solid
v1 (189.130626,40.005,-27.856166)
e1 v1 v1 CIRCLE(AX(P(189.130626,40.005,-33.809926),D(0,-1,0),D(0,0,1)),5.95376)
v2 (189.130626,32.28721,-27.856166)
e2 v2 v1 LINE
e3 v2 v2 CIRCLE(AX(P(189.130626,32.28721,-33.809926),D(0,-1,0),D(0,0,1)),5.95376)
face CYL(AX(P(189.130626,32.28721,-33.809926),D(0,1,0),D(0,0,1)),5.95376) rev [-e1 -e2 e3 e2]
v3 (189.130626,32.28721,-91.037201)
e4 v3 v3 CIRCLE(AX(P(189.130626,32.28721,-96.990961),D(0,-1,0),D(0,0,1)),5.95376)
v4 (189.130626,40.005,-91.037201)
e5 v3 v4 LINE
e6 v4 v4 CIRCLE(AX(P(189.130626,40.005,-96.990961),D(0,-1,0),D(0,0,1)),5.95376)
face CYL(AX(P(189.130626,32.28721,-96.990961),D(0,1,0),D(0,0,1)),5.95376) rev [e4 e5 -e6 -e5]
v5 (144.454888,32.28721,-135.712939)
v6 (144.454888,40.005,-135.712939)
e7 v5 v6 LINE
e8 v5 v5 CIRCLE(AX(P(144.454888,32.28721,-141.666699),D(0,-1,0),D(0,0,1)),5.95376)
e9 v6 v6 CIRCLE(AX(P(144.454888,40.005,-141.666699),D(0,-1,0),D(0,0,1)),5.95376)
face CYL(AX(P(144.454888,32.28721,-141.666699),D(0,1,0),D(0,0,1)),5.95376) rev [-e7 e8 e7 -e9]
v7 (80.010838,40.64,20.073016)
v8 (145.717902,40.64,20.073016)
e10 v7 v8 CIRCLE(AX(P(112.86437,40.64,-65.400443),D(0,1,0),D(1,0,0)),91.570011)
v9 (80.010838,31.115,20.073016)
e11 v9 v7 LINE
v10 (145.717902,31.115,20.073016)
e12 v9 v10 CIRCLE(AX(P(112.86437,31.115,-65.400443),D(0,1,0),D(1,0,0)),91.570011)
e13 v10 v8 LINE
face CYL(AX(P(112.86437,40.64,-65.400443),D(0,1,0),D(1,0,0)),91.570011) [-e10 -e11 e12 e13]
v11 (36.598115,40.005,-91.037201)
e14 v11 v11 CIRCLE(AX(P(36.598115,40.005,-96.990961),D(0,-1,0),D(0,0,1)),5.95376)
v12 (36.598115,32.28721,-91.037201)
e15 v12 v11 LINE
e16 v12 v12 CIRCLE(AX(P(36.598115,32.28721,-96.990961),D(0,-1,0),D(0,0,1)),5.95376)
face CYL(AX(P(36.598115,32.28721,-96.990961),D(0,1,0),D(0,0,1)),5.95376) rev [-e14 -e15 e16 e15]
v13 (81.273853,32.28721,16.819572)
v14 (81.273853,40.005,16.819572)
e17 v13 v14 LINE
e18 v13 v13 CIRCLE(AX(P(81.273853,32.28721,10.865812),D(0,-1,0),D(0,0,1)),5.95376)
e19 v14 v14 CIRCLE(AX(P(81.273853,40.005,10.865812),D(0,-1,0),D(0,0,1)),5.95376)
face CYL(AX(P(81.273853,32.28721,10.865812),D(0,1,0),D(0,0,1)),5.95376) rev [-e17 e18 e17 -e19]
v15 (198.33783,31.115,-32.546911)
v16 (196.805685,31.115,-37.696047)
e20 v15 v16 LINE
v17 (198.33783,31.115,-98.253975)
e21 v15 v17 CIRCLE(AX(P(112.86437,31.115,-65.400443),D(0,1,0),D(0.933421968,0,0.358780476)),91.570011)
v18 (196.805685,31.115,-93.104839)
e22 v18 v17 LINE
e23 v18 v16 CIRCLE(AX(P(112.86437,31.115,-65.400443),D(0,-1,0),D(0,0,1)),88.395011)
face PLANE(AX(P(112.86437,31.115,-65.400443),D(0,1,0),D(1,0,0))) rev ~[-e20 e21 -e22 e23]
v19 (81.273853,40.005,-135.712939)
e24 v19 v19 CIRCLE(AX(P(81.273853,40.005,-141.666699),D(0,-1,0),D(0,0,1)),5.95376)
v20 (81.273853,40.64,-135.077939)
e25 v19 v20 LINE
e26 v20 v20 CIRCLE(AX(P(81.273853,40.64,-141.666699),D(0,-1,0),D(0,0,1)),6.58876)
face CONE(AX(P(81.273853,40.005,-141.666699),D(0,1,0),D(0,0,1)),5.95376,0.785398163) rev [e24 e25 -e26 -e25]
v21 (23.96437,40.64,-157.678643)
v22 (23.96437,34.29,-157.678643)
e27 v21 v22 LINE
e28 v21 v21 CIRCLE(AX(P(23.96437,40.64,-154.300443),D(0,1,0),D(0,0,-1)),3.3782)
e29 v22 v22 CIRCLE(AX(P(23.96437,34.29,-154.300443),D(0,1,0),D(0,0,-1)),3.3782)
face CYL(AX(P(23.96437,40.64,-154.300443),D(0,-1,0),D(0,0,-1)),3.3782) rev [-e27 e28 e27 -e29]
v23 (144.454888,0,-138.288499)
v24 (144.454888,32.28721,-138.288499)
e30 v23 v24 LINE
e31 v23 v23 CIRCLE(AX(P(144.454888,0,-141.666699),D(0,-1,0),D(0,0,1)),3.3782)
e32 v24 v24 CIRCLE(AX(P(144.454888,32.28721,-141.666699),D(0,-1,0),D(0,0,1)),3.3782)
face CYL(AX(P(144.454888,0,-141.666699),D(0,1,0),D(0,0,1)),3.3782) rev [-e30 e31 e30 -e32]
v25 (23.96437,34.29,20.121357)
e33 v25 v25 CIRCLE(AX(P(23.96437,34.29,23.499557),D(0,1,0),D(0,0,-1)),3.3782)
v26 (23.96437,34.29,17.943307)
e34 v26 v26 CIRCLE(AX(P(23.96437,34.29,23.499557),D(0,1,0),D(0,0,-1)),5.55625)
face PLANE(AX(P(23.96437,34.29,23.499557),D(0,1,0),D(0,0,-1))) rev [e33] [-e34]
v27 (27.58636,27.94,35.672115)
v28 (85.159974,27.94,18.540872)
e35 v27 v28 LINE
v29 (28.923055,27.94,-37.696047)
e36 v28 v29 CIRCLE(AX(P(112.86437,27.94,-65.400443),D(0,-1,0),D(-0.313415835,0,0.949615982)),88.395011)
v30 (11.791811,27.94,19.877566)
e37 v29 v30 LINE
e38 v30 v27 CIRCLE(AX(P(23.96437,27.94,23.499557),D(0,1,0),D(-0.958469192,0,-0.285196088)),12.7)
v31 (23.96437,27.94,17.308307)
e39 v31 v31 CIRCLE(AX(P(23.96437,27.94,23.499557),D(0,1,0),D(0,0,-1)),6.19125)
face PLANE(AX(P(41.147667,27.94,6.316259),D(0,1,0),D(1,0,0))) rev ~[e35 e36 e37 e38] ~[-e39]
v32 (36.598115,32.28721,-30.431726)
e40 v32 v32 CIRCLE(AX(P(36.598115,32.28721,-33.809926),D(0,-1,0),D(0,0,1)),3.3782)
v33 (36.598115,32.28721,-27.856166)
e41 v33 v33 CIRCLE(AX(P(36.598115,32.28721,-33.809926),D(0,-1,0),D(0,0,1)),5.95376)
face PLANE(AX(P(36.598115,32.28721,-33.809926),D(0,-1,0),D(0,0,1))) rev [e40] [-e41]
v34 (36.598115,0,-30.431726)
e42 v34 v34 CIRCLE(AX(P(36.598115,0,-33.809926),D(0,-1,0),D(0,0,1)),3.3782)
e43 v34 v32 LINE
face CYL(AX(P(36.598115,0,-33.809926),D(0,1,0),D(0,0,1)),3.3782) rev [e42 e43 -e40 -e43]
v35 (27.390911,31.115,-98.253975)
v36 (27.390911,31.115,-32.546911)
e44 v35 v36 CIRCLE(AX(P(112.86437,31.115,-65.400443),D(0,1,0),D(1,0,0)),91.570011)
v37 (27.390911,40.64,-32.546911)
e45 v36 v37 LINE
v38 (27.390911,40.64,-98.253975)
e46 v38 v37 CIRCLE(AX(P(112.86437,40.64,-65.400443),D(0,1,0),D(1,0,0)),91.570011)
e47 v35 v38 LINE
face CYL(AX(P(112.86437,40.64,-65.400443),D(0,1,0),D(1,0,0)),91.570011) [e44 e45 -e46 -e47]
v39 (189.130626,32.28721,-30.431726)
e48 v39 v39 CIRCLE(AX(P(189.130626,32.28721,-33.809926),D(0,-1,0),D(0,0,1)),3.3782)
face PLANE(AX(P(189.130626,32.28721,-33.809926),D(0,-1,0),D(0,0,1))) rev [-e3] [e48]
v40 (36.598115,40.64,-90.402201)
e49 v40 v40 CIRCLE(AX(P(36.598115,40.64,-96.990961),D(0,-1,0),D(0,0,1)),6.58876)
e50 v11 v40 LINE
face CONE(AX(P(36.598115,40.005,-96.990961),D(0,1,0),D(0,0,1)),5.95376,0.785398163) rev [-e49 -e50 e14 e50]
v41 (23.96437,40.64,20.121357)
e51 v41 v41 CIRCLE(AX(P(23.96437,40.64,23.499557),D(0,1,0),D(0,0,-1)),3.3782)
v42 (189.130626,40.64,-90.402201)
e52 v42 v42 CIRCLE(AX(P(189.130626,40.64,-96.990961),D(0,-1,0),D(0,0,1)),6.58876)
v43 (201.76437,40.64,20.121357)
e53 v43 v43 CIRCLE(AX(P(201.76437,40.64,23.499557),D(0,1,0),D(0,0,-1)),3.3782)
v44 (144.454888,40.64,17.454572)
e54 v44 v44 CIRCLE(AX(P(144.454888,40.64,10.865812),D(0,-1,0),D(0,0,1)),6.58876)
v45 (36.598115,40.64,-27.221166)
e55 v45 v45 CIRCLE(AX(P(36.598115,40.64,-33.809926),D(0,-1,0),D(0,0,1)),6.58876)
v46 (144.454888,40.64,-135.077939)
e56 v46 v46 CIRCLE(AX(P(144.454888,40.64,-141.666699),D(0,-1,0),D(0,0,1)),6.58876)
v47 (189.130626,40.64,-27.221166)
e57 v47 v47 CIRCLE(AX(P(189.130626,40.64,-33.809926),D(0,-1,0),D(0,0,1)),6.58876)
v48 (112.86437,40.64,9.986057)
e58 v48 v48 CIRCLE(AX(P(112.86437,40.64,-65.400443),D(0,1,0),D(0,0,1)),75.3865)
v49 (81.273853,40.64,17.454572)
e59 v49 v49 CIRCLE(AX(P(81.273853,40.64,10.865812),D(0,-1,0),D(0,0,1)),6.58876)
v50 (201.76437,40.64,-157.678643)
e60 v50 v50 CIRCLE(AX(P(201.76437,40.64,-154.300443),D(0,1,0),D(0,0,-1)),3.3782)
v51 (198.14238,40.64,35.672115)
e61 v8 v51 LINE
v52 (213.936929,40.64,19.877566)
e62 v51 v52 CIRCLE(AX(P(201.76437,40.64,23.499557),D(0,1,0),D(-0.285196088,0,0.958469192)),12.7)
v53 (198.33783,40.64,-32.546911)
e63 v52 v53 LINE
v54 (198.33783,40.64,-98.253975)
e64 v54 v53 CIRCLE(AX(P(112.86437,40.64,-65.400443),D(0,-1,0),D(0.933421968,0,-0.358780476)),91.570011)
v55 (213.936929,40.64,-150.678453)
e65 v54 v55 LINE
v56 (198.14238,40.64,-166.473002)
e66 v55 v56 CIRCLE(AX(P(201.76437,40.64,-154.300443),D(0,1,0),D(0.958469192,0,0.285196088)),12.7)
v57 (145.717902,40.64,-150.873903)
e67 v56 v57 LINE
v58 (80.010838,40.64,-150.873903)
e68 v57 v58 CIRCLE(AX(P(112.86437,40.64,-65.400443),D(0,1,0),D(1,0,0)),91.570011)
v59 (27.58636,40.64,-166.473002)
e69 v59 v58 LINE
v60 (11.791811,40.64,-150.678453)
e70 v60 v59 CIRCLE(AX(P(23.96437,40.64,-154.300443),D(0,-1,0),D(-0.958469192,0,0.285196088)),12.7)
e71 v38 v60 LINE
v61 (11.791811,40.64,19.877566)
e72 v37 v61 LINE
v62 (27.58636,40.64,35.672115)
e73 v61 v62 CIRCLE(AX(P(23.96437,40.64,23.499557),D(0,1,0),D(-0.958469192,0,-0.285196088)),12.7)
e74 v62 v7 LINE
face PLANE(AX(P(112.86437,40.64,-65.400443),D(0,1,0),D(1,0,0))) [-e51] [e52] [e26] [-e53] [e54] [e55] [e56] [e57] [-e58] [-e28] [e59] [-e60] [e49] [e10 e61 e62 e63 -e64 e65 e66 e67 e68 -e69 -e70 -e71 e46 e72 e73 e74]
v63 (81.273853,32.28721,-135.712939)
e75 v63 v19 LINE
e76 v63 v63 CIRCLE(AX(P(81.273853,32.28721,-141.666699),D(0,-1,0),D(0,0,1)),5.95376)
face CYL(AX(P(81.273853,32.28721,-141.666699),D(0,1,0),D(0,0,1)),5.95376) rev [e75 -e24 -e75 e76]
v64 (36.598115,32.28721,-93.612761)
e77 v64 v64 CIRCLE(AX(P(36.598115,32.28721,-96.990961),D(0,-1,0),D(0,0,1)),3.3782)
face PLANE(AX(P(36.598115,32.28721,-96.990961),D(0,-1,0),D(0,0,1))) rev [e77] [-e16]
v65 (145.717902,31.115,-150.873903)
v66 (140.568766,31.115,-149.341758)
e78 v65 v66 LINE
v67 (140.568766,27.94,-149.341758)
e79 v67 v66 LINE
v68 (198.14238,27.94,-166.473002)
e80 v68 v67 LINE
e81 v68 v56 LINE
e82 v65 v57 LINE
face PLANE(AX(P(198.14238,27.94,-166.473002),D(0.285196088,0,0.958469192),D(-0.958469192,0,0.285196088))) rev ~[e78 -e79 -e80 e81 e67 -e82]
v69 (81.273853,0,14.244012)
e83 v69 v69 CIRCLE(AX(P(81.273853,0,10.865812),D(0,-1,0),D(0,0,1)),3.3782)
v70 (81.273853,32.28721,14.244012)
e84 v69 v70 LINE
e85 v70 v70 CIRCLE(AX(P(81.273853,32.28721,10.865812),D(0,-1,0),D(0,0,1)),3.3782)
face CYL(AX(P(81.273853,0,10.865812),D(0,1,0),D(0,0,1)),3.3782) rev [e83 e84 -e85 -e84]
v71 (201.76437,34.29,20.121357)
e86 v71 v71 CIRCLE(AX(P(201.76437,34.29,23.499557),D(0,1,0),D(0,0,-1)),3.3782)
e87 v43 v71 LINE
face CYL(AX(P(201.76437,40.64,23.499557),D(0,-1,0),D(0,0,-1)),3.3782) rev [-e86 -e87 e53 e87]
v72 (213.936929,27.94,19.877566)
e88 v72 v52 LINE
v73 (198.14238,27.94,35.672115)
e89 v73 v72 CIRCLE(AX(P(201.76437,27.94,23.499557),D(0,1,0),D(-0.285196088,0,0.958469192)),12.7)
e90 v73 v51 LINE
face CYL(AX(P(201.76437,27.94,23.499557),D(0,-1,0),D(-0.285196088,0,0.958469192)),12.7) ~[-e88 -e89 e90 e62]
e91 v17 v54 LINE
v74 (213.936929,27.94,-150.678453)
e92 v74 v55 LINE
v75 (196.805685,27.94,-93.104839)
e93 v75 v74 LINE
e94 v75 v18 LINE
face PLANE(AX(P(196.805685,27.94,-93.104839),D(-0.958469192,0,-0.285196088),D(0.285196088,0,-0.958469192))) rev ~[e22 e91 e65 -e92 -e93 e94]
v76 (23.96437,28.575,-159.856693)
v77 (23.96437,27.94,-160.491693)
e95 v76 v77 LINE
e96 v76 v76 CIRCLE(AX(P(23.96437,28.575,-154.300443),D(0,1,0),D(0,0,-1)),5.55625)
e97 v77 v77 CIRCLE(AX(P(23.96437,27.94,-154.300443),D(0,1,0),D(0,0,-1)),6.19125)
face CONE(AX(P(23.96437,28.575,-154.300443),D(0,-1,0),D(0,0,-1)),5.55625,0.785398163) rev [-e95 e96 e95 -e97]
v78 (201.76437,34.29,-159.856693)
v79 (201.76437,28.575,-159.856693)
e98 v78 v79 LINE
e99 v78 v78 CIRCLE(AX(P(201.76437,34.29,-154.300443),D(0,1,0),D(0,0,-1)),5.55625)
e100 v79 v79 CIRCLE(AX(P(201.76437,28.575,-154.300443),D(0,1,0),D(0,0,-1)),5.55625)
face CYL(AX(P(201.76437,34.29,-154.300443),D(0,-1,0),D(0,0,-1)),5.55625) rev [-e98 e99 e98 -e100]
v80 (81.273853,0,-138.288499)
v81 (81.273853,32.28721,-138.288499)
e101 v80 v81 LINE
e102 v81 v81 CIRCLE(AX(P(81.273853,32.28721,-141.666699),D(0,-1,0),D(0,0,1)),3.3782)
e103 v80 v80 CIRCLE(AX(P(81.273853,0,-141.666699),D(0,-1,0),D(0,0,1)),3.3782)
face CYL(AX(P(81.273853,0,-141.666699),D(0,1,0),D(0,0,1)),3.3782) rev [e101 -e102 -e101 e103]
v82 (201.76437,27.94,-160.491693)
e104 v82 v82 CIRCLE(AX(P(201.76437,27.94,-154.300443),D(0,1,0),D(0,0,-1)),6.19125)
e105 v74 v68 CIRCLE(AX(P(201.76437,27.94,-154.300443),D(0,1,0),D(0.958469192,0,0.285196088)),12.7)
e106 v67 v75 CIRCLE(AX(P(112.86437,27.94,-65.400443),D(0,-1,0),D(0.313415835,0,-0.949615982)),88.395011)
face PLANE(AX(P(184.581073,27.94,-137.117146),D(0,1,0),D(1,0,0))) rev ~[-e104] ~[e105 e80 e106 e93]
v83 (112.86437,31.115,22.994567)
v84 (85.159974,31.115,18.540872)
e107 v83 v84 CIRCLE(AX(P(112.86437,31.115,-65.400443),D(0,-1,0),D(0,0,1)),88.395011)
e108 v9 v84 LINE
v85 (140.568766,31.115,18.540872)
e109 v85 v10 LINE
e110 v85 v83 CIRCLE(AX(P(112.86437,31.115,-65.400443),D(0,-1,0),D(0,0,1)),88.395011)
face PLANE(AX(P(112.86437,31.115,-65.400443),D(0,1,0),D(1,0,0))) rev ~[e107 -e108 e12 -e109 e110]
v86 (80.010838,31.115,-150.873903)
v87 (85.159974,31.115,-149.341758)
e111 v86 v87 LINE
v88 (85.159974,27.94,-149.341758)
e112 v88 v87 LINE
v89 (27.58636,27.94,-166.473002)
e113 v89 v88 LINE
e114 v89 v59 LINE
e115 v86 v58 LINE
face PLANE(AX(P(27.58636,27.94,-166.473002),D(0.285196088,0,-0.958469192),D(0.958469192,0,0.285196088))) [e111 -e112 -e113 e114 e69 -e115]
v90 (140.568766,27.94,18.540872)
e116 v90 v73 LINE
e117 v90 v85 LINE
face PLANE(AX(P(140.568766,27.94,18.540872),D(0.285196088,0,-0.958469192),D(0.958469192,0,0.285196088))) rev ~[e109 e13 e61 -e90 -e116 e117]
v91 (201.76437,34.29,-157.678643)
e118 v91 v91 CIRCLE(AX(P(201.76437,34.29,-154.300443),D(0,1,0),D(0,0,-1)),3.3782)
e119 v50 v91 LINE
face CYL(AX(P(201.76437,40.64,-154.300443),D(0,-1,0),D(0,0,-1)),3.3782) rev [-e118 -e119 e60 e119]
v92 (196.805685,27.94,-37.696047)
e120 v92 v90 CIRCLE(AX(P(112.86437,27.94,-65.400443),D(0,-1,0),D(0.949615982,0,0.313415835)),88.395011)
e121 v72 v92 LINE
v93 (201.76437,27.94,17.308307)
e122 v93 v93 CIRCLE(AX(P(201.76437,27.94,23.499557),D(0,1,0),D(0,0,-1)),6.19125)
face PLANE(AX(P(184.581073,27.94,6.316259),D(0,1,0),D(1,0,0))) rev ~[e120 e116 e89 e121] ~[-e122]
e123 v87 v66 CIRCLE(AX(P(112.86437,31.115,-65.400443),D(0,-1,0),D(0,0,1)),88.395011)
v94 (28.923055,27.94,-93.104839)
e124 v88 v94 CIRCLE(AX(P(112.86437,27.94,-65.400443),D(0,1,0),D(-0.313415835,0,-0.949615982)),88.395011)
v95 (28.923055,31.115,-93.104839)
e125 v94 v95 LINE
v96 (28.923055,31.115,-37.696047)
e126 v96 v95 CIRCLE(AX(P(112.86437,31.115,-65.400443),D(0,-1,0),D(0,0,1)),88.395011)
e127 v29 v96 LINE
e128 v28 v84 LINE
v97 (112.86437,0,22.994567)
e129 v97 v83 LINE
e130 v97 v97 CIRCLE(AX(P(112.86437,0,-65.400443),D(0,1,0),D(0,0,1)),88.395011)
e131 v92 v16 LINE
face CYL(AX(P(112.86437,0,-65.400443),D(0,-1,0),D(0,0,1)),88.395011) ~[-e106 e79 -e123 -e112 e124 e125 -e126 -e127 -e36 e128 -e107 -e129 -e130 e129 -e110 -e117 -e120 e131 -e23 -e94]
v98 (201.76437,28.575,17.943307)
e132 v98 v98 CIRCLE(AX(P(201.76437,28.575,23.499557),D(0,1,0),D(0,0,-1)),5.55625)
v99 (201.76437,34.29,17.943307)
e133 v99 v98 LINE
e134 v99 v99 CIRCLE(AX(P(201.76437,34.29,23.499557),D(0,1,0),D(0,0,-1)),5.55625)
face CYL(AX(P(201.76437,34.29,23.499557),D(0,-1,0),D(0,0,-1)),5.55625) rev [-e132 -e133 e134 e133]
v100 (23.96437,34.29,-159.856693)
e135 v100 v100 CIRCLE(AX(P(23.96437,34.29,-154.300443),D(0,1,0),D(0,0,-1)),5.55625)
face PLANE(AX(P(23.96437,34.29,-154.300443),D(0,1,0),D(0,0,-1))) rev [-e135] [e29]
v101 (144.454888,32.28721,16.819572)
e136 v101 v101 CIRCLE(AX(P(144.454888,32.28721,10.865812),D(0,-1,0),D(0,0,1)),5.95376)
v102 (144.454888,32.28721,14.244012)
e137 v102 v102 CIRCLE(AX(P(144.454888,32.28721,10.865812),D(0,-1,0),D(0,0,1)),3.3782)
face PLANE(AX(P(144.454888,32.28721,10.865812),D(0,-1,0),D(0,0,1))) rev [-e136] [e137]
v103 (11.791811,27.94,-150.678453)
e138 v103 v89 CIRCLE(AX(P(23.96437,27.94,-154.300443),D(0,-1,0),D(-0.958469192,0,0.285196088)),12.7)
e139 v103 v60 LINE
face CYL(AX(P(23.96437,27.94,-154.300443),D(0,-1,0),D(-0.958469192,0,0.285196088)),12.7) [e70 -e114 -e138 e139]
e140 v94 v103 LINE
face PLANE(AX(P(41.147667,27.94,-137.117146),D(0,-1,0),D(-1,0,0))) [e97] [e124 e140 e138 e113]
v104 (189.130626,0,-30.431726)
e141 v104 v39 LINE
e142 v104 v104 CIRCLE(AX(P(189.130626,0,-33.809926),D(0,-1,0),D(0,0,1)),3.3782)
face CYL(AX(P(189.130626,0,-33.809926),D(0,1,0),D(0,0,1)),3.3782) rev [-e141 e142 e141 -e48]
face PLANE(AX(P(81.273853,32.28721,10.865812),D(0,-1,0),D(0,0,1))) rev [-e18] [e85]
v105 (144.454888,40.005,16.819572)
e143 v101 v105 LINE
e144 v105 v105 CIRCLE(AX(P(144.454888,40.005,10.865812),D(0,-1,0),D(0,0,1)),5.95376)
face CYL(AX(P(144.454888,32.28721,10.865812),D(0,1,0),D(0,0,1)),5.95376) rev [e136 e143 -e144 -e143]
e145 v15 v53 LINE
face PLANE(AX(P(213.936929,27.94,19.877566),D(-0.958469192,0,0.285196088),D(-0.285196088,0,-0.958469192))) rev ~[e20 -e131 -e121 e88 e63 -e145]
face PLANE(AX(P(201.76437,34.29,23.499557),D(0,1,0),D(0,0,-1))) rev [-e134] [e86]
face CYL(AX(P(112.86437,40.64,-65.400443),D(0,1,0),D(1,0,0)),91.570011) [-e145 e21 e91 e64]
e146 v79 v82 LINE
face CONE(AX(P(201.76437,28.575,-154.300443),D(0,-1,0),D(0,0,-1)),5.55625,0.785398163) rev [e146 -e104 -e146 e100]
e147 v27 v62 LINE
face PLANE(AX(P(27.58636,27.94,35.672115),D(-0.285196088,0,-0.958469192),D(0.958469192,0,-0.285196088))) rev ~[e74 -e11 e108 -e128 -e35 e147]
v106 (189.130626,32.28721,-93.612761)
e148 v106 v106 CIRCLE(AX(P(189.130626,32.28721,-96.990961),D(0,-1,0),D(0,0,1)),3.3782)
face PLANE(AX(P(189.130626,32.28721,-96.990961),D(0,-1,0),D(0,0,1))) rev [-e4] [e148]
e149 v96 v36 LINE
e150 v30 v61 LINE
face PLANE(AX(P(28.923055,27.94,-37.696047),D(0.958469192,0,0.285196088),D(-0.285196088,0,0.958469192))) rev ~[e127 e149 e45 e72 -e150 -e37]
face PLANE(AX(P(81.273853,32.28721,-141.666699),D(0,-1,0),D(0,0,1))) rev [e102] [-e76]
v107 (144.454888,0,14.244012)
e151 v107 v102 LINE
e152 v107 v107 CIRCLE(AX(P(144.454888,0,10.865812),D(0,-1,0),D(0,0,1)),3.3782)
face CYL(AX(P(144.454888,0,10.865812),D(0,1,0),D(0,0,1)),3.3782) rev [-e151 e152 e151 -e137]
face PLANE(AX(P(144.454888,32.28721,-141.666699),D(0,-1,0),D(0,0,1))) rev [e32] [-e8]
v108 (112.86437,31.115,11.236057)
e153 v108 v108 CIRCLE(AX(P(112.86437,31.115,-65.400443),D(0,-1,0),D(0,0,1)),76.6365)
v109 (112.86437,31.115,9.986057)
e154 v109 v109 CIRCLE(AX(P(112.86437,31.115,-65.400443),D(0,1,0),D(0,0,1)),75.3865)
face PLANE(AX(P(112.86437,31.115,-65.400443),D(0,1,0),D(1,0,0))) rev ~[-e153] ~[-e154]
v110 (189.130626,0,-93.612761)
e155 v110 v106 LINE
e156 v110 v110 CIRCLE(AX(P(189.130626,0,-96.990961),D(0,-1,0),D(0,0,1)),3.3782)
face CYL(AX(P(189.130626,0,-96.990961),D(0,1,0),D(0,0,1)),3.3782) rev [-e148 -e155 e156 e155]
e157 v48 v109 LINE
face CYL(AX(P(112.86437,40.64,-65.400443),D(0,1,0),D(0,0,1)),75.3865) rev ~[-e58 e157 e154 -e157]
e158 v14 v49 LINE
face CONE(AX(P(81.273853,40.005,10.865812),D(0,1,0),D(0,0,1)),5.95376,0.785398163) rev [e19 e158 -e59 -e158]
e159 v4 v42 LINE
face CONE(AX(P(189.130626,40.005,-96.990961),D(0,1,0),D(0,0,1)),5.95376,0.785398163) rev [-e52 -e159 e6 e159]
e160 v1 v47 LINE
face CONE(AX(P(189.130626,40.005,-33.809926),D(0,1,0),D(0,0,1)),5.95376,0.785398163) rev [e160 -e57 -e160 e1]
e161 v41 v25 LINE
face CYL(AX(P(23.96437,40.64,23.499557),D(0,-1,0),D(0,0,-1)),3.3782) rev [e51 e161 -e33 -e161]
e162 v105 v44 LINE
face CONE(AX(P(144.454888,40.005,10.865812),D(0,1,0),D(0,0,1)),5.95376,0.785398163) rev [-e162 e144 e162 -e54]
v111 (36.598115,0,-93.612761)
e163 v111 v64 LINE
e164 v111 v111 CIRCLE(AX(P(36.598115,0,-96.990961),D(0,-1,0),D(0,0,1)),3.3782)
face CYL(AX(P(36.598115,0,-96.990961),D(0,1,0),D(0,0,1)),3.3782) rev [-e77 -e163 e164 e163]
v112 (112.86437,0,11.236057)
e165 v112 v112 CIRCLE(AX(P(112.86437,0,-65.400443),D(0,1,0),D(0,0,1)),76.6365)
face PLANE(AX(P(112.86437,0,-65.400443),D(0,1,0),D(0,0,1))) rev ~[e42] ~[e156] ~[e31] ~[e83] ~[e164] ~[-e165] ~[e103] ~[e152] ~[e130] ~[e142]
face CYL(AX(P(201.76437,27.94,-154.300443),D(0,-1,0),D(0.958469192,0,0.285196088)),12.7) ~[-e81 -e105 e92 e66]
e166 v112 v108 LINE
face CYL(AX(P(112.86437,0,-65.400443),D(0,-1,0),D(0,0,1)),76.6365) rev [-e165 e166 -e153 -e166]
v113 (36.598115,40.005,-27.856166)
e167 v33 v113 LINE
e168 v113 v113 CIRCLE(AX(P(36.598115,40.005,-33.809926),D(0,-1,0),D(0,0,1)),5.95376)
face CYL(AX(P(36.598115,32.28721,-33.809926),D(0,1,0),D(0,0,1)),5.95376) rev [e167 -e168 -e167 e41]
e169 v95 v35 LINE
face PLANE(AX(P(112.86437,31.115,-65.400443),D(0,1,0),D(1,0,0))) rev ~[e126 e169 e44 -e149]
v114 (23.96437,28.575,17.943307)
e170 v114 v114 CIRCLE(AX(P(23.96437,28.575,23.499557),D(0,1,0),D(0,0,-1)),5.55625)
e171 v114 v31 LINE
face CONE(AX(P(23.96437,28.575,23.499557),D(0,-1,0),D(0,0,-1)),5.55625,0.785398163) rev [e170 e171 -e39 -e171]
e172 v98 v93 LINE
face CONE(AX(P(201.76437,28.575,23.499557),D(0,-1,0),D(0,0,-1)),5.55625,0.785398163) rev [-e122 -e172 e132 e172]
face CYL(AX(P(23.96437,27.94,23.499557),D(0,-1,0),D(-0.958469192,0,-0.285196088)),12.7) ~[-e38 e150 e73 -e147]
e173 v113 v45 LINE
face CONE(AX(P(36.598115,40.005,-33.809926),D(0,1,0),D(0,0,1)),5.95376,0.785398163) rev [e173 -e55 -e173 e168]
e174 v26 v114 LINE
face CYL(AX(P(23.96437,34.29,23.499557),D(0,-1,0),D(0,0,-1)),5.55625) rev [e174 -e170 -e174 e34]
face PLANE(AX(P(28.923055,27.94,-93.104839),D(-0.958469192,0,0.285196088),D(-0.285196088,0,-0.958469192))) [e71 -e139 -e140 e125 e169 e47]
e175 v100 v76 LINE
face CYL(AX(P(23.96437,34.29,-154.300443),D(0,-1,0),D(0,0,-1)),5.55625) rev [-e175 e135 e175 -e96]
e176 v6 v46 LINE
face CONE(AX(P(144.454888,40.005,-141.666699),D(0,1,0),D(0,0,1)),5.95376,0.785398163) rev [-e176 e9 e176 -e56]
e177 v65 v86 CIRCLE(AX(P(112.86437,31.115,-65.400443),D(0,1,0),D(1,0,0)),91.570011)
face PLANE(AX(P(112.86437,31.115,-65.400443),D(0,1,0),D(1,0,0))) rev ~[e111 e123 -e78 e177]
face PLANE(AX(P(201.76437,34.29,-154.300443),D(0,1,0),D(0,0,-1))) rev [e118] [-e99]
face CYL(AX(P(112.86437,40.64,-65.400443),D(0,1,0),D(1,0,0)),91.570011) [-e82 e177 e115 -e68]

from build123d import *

# Parameters (mm, degrees)
SKETCH2_R                                     = 88.395010725
SKETCH2_R_2                                   = 76.6365
BOSS_EXTRUDE1_DEPTH                           = 40.64
BOSS_EXTRUDE2_START                           = -12.7
BOSS_EXTRUDE2_DEPTH                           = 12.7
CBORE_FOR_1_4_SOCKET_HEAD_CAP_SCREW1_AT_COUNT = 2
CBORE_FOR_1_4_SOCKET_HEAD_CAP_SCREW1_AT_PITCH = 177.8
CBORE_FOR_1_4_SOCKET_HEAD_CAP_SCREW1_2_COUNT  = 2
CBORE_FOR_1_4_SOCKET_HEAD_CAP_SCREW1_2_PITCH  = 251.44717139
CBORE_FOR_1_4_SOCKET_HEAD_CAP_SCREW1_3_COUNT  = 2
CBORE_FOR_1_4_SOCKET_HEAD_CAP_SCREW1_3_PITCH  = 177.8
SKETCH10_R                                    = 91.570010725
SKETCH10_R_2                                  = 75.3865
BOSS_EXTRUDE3_DEPTH                           = 9.525
CBORE_FOR_1_4_BUTTON_HEAD_CAP_SCREW1_AT_COUNT = 2
CBORE_FOR_1_4_BUTTON_HEAD_CAP_SCREW1_AT_PITCH = 63.181034683
CBORE_FOR_1_4_BUTTON_HEAD_CAP_SCREW1_2_COUNT  = 2
CBORE_FOR_1_4_BUTTON_HEAD_CAP_SCREW1_2_PITCH  = 116.743329574
CBORE_FOR_1_4_BUTTON_HEAD_CAP_SCREW1_3_COUNT  = 2
CBORE_FOR_1_4_BUTTON_HEAD_CAP_SCREW1_3_PITCH  = 152.532510818
CBORE_FOR_1_4_BUTTON_HEAD_CAP_SCREW1_4_COUNT  = 2
CBORE_FOR_1_4_BUTTON_HEAD_CAP_SCREW1_4_PITCH  = 165.1
CBORE_FOR_1_4_BUTTON_HEAD_CAP_SCREW1_5_COUNT  = 2
CBORE_FOR_1_4_BUTTON_HEAD_CAP_SCREW1_5_PITCH  = 152.532510818
CBORE_FOR_1_4_BUTTON_HEAD_CAP_SCREW1_6_COUNT  = 2
CBORE_FOR_1_4_BUTTON_HEAD_CAP_SCREW1_6_PITCH  = 116.743329574
CBORE_FOR_1_4_BUTTON_HEAD_CAP_SCREW1_7_COUNT  = 2
CBORE_FOR_1_4_BUTTON_HEAD_CAP_SCREW1_7_PITCH  = 63.181034683


with BuildPart() as part:
    # Sketch2 → Boss-Extrude1 (new body)
    with BuildSketch(Plane(origin=(0, 0, 0), x_dir=(1, 0, 0), z_dir=(0, 1, 0))):
        with Locations(Location((112.864370177, 65.400443246, 0), (0, 0, 270))):
            Circle(SKETCH2_R)
        with Locations(Location((112.864370177, 65.400443246, 0), (0, 0, 270))):
            Circle(SKETCH2_R_2, mode=Mode.SUBTRACT)
    extrude(amount=BOSS_EXTRUDE1_DEPTH)

    # Sketch7 → Boss-Extrude2 (add)
    with BuildSketch(Plane(origin=(0, 40.64, 0), x_dir=(1, 0, 0), z_dir=(0, 1, 0)).offset(BOSS_EXTRUDE2_START)):
        with BuildLine():
            Line((27.586360499, 166.473001979), (85.159974048, 149.341758199))
            ThreePointArc((85.159974048, 149.341758199), (50.359658671, 127.905154752), (28.923055224, 93.104839375))
            Line((28.923055224, 93.104839375), (11.791811444, 150.678452924))
            ThreePointArc((11.791811444, 150.678452924), (14.984114056, 163.280699367), (27.586360499, 166.473001979))
        make_face()
        with BuildLine():
            Line((198.142379855, 166.473001979), (140.568766306, 149.341758199))
            ThreePointArc((140.568766306, 149.341758199), (175.369081684, 127.905154752), (196.805685131, 93.104839375))
            Line((196.805685131, 93.104839375), (213.93692891, 150.678452924))
            ThreePointArc((213.93692891, 150.678452924), (210.744626298, 163.280699367), (198.142379855, 166.473001979))
        make_face()
        with BuildLine():
            Line((213.93692891, -19.877566432), (196.805685131, 37.696047117))
            ThreePointArc((196.805685131, 37.696047117), (175.369081684, 2.89573174), (140.568766306, -18.540871708))
            Line((140.568766306, -18.540871708), (198.142379855, -35.672115487))
            ThreePointArc((198.142379855, -35.672115487), (210.744626298, -32.479812875), (213.93692891, -19.877566432))
        make_face()
        with BuildLine():
            Line((27.586360499, -35.672115487), (85.159974048, -18.540871708))
            ThreePointArc((85.159974048, -18.540871708), (50.359658671, 2.89573174), (28.923055224, 37.696047117))
            Line((28.923055224, 37.696047117), (11.791811444, -19.877566432))
            ThreePointArc((11.791811444, -19.877566432), (14.984114056, -32.479812875), (27.586360499, -35.672115487))
        make_face()
    extrude(amount=BOSS_EXTRUDE2_DEPTH)

    # Sketch9 → CBORE for 1/4 Socket Head Cap Screw1 (revolve, cut)
    with BuildSketch(Plane(origin=(23.964370177, 27.94, 23.499556754), x_dir=(0, 0, -1), z_dir=(1, 0, 0))):
        Polygon((0, 0), (0, 12.7), (3.3782, 12.7), (3.3782, 6.35), (5.55625, 6.35), (5.55625, 0.635), (6.19125, 0), align=None)
    cbore_for_1_4_socket_head_cap_screw1 = revolve(axis=Axis((23.964370177, 21.59, 23.499556754), (0, 1, 0)), mode=Mode.SUBTRACT)

    # CBORE for 1/4 Socket Head Cap Screw1 at: CBORE for 1/4 Socket Head Cap Screw1 ×2
    with Locations(*[(i * CBORE_FOR_1_4_SOCKET_HEAD_CAP_SCREW1_AT_PITCH, 0, 0) for i in range(1, CBORE_FOR_1_4_SOCKET_HEAD_CAP_SCREW1_AT_COUNT)]):
        add(cbore_for_1_4_socket_head_cap_screw1, mode=Mode.SUBTRACT)

    # CBORE for 1_4 Socket Head Cap Screw1 2: CBORE for 1/4 Socket Head Cap Screw1 ×2
    with Locations(*[Vector(0.7071067811865512, 0, -0.7071067811865438) * (i * CBORE_FOR_1_4_SOCKET_HEAD_CAP_SCREW1_2_PITCH) for i in range(1, CBORE_FOR_1_4_SOCKET_HEAD_CAP_SCREW1_2_COUNT)]):
        add(cbore_for_1_4_socket_head_cap_screw1, mode=Mode.SUBTRACT)

    # CBORE for 1_4 Socket Head Cap Screw1 3: CBORE for 1/4 Socket Head Cap Screw1 ×2
    with Locations(*[(0, 0, -i * CBORE_FOR_1_4_SOCKET_HEAD_CAP_SCREW1_3_PITCH) for i in range(1, CBORE_FOR_1_4_SOCKET_HEAD_CAP_SCREW1_3_COUNT)]):
        add(cbore_for_1_4_socket_head_cap_screw1, mode=Mode.SUBTRACT)

    # Sketch10 → Boss-Extrude3 (add)
    with BuildSketch(Plane(origin=(0, 40.64, 0), x_dir=(1, 0, 0), z_dir=(0, 1, 0))):
        with Locations((112.864370177, 65.400443246)):
            Circle(SKETCH10_R)
        with Locations(Location((112.864370177, 65.400443246, 0), (0, 0, 270))):
            Circle(SKETCH10_R_2, mode=Mode.SUBTRACT)
    extrude(amount=-BOSS_EXTRUDE3_DEPTH)

    # Sketch12 → CBORE for 1/4 Button Head Cap Screw1 (revolve, cut)
    with BuildSketch(Plane(origin=(36.598114768, 40.64, -33.809925904), x_dir=(0, 0, 1), z_dir=(1, 0, 0))):
        Polygon((0, 0), (0, 40.64), (3.3782, 40.64), (3.3782, 8.35279), (5.95376, 8.35279), (5.95376, 0.635), (6.58876, 0), align=None)
    cbore_for_1_4_button_head_cap_screw1 = revolve(axis=Axis((36.598114768, 46.99, -33.809925904), (0, -1, 0)), mode=Mode.SUBTRACT)

    # CBORE for 1/4 Button Head Cap Screw1 at: CBORE for 1/4 Button Head Cap Screw1 ×2
    with Locations(*[(0, 0, -i * CBORE_FOR_1_4_BUTTON_HEAD_CAP_SCREW1_AT_PITCH) for i in range(1, CBORE_FOR_1_4_BUTTON_HEAD_CAP_SCREW1_AT_COUNT)]):
        add(cbore_for_1_4_button_head_cap_screw1, mode=Mode.SUBTRACT)

    # CBORE for 1_4 Button Head Cap Screw1 2: CBORE for 1/4 Button Head Cap Screw1 ×2
    with Locations(*[Vector(0.3826834323650937, 0, -0.9238795325112852) * (i * CBORE_FOR_1_4_BUTTON_HEAD_CAP_SCREW1_2_PITCH) for i in range(1, CBORE_FOR_1_4_BUTTON_HEAD_CAP_SCREW1_2_COUNT)]):
        add(cbore_for_1_4_button_head_cap_screw1, mode=Mode.SUBTRACT)

    # CBORE for 1_4 Button Head Cap Screw1 3: CBORE for 1/4 Button Head Cap Screw1 ×2
    with Locations(*[Vector(0.7071067811865462, 0, -0.7071067811865489) * (i * CBORE_FOR_1_4_BUTTON_HEAD_CAP_SCREW1_3_PITCH) for i in range(1, CBORE_FOR_1_4_BUTTON_HEAD_CAP_SCREW1_3_COUNT)]):
        add(cbore_for_1_4_button_head_cap_screw1, mode=Mode.SUBTRACT)

    # CBORE for 1_4 Button Head Cap Screw1 4: CBORE for 1/4 Button Head Cap Screw1 ×2
    with Locations(*[Vector(0.9238795325112864, 0, -0.38268343236509067) * (i * CBORE_FOR_1_4_BUTTON_HEAD_CAP_SCREW1_4_PITCH) for i in range(1, CBORE_FOR_1_4_BUTTON_HEAD_CAP_SCREW1_4_COUNT)]):
        add(cbore_for_1_4_button_head_cap_screw1, mode=Mode.SUBTRACT)

    # CBORE for 1_4 Button Head Cap Screw1 5: CBORE for 1/4 Button Head Cap Screw1 ×2
    with Locations(*[(i * CBORE_FOR_1_4_BUTTON_HEAD_CAP_SCREW1_5_PITCH, 0, 0) for i in range(1, CBORE_FOR_1_4_BUTTON_HEAD_CAP_SCREW1_5_COUNT)]):
        add(cbore_for_1_4_button_head_cap_screw1, mode=Mode.SUBTRACT)

    # CBORE for 1_4 Button Head Cap Screw1 6: CBORE for 1/4 Button Head Cap Screw1 ×2
    with Locations(*[Vector(0.9238795325112864, 0, 0.3826834323650908) * (i * CBORE_FOR_1_4_BUTTON_HEAD_CAP_SCREW1_6_PITCH) for i in range(1, CBORE_FOR_1_4_BUTTON_HEAD_CAP_SCREW1_6_COUNT)]):
        add(cbore_for_1_4_button_head_cap_screw1, mode=Mode.SUBTRACT)

    # CBORE for 1_4 Button Head Cap Screw1 7: CBORE for 1/4 Button Head Cap Screw1 ×2
    with Locations(*[Vector(0.7071067811865459, 0, 0.7071067811865491) * (i * CBORE_FOR_1_4_BUTTON_HEAD_CAP_SCREW1_7_PITCH) for i in range(1, CBORE_FOR_1_4_BUTTON_HEAD_CAP_SCREW1_7_COUNT)]):
        add(cbore_for_1_4_button_head_cap_screw1, mode=Mode.SUBTRACT)


solid = part.part
